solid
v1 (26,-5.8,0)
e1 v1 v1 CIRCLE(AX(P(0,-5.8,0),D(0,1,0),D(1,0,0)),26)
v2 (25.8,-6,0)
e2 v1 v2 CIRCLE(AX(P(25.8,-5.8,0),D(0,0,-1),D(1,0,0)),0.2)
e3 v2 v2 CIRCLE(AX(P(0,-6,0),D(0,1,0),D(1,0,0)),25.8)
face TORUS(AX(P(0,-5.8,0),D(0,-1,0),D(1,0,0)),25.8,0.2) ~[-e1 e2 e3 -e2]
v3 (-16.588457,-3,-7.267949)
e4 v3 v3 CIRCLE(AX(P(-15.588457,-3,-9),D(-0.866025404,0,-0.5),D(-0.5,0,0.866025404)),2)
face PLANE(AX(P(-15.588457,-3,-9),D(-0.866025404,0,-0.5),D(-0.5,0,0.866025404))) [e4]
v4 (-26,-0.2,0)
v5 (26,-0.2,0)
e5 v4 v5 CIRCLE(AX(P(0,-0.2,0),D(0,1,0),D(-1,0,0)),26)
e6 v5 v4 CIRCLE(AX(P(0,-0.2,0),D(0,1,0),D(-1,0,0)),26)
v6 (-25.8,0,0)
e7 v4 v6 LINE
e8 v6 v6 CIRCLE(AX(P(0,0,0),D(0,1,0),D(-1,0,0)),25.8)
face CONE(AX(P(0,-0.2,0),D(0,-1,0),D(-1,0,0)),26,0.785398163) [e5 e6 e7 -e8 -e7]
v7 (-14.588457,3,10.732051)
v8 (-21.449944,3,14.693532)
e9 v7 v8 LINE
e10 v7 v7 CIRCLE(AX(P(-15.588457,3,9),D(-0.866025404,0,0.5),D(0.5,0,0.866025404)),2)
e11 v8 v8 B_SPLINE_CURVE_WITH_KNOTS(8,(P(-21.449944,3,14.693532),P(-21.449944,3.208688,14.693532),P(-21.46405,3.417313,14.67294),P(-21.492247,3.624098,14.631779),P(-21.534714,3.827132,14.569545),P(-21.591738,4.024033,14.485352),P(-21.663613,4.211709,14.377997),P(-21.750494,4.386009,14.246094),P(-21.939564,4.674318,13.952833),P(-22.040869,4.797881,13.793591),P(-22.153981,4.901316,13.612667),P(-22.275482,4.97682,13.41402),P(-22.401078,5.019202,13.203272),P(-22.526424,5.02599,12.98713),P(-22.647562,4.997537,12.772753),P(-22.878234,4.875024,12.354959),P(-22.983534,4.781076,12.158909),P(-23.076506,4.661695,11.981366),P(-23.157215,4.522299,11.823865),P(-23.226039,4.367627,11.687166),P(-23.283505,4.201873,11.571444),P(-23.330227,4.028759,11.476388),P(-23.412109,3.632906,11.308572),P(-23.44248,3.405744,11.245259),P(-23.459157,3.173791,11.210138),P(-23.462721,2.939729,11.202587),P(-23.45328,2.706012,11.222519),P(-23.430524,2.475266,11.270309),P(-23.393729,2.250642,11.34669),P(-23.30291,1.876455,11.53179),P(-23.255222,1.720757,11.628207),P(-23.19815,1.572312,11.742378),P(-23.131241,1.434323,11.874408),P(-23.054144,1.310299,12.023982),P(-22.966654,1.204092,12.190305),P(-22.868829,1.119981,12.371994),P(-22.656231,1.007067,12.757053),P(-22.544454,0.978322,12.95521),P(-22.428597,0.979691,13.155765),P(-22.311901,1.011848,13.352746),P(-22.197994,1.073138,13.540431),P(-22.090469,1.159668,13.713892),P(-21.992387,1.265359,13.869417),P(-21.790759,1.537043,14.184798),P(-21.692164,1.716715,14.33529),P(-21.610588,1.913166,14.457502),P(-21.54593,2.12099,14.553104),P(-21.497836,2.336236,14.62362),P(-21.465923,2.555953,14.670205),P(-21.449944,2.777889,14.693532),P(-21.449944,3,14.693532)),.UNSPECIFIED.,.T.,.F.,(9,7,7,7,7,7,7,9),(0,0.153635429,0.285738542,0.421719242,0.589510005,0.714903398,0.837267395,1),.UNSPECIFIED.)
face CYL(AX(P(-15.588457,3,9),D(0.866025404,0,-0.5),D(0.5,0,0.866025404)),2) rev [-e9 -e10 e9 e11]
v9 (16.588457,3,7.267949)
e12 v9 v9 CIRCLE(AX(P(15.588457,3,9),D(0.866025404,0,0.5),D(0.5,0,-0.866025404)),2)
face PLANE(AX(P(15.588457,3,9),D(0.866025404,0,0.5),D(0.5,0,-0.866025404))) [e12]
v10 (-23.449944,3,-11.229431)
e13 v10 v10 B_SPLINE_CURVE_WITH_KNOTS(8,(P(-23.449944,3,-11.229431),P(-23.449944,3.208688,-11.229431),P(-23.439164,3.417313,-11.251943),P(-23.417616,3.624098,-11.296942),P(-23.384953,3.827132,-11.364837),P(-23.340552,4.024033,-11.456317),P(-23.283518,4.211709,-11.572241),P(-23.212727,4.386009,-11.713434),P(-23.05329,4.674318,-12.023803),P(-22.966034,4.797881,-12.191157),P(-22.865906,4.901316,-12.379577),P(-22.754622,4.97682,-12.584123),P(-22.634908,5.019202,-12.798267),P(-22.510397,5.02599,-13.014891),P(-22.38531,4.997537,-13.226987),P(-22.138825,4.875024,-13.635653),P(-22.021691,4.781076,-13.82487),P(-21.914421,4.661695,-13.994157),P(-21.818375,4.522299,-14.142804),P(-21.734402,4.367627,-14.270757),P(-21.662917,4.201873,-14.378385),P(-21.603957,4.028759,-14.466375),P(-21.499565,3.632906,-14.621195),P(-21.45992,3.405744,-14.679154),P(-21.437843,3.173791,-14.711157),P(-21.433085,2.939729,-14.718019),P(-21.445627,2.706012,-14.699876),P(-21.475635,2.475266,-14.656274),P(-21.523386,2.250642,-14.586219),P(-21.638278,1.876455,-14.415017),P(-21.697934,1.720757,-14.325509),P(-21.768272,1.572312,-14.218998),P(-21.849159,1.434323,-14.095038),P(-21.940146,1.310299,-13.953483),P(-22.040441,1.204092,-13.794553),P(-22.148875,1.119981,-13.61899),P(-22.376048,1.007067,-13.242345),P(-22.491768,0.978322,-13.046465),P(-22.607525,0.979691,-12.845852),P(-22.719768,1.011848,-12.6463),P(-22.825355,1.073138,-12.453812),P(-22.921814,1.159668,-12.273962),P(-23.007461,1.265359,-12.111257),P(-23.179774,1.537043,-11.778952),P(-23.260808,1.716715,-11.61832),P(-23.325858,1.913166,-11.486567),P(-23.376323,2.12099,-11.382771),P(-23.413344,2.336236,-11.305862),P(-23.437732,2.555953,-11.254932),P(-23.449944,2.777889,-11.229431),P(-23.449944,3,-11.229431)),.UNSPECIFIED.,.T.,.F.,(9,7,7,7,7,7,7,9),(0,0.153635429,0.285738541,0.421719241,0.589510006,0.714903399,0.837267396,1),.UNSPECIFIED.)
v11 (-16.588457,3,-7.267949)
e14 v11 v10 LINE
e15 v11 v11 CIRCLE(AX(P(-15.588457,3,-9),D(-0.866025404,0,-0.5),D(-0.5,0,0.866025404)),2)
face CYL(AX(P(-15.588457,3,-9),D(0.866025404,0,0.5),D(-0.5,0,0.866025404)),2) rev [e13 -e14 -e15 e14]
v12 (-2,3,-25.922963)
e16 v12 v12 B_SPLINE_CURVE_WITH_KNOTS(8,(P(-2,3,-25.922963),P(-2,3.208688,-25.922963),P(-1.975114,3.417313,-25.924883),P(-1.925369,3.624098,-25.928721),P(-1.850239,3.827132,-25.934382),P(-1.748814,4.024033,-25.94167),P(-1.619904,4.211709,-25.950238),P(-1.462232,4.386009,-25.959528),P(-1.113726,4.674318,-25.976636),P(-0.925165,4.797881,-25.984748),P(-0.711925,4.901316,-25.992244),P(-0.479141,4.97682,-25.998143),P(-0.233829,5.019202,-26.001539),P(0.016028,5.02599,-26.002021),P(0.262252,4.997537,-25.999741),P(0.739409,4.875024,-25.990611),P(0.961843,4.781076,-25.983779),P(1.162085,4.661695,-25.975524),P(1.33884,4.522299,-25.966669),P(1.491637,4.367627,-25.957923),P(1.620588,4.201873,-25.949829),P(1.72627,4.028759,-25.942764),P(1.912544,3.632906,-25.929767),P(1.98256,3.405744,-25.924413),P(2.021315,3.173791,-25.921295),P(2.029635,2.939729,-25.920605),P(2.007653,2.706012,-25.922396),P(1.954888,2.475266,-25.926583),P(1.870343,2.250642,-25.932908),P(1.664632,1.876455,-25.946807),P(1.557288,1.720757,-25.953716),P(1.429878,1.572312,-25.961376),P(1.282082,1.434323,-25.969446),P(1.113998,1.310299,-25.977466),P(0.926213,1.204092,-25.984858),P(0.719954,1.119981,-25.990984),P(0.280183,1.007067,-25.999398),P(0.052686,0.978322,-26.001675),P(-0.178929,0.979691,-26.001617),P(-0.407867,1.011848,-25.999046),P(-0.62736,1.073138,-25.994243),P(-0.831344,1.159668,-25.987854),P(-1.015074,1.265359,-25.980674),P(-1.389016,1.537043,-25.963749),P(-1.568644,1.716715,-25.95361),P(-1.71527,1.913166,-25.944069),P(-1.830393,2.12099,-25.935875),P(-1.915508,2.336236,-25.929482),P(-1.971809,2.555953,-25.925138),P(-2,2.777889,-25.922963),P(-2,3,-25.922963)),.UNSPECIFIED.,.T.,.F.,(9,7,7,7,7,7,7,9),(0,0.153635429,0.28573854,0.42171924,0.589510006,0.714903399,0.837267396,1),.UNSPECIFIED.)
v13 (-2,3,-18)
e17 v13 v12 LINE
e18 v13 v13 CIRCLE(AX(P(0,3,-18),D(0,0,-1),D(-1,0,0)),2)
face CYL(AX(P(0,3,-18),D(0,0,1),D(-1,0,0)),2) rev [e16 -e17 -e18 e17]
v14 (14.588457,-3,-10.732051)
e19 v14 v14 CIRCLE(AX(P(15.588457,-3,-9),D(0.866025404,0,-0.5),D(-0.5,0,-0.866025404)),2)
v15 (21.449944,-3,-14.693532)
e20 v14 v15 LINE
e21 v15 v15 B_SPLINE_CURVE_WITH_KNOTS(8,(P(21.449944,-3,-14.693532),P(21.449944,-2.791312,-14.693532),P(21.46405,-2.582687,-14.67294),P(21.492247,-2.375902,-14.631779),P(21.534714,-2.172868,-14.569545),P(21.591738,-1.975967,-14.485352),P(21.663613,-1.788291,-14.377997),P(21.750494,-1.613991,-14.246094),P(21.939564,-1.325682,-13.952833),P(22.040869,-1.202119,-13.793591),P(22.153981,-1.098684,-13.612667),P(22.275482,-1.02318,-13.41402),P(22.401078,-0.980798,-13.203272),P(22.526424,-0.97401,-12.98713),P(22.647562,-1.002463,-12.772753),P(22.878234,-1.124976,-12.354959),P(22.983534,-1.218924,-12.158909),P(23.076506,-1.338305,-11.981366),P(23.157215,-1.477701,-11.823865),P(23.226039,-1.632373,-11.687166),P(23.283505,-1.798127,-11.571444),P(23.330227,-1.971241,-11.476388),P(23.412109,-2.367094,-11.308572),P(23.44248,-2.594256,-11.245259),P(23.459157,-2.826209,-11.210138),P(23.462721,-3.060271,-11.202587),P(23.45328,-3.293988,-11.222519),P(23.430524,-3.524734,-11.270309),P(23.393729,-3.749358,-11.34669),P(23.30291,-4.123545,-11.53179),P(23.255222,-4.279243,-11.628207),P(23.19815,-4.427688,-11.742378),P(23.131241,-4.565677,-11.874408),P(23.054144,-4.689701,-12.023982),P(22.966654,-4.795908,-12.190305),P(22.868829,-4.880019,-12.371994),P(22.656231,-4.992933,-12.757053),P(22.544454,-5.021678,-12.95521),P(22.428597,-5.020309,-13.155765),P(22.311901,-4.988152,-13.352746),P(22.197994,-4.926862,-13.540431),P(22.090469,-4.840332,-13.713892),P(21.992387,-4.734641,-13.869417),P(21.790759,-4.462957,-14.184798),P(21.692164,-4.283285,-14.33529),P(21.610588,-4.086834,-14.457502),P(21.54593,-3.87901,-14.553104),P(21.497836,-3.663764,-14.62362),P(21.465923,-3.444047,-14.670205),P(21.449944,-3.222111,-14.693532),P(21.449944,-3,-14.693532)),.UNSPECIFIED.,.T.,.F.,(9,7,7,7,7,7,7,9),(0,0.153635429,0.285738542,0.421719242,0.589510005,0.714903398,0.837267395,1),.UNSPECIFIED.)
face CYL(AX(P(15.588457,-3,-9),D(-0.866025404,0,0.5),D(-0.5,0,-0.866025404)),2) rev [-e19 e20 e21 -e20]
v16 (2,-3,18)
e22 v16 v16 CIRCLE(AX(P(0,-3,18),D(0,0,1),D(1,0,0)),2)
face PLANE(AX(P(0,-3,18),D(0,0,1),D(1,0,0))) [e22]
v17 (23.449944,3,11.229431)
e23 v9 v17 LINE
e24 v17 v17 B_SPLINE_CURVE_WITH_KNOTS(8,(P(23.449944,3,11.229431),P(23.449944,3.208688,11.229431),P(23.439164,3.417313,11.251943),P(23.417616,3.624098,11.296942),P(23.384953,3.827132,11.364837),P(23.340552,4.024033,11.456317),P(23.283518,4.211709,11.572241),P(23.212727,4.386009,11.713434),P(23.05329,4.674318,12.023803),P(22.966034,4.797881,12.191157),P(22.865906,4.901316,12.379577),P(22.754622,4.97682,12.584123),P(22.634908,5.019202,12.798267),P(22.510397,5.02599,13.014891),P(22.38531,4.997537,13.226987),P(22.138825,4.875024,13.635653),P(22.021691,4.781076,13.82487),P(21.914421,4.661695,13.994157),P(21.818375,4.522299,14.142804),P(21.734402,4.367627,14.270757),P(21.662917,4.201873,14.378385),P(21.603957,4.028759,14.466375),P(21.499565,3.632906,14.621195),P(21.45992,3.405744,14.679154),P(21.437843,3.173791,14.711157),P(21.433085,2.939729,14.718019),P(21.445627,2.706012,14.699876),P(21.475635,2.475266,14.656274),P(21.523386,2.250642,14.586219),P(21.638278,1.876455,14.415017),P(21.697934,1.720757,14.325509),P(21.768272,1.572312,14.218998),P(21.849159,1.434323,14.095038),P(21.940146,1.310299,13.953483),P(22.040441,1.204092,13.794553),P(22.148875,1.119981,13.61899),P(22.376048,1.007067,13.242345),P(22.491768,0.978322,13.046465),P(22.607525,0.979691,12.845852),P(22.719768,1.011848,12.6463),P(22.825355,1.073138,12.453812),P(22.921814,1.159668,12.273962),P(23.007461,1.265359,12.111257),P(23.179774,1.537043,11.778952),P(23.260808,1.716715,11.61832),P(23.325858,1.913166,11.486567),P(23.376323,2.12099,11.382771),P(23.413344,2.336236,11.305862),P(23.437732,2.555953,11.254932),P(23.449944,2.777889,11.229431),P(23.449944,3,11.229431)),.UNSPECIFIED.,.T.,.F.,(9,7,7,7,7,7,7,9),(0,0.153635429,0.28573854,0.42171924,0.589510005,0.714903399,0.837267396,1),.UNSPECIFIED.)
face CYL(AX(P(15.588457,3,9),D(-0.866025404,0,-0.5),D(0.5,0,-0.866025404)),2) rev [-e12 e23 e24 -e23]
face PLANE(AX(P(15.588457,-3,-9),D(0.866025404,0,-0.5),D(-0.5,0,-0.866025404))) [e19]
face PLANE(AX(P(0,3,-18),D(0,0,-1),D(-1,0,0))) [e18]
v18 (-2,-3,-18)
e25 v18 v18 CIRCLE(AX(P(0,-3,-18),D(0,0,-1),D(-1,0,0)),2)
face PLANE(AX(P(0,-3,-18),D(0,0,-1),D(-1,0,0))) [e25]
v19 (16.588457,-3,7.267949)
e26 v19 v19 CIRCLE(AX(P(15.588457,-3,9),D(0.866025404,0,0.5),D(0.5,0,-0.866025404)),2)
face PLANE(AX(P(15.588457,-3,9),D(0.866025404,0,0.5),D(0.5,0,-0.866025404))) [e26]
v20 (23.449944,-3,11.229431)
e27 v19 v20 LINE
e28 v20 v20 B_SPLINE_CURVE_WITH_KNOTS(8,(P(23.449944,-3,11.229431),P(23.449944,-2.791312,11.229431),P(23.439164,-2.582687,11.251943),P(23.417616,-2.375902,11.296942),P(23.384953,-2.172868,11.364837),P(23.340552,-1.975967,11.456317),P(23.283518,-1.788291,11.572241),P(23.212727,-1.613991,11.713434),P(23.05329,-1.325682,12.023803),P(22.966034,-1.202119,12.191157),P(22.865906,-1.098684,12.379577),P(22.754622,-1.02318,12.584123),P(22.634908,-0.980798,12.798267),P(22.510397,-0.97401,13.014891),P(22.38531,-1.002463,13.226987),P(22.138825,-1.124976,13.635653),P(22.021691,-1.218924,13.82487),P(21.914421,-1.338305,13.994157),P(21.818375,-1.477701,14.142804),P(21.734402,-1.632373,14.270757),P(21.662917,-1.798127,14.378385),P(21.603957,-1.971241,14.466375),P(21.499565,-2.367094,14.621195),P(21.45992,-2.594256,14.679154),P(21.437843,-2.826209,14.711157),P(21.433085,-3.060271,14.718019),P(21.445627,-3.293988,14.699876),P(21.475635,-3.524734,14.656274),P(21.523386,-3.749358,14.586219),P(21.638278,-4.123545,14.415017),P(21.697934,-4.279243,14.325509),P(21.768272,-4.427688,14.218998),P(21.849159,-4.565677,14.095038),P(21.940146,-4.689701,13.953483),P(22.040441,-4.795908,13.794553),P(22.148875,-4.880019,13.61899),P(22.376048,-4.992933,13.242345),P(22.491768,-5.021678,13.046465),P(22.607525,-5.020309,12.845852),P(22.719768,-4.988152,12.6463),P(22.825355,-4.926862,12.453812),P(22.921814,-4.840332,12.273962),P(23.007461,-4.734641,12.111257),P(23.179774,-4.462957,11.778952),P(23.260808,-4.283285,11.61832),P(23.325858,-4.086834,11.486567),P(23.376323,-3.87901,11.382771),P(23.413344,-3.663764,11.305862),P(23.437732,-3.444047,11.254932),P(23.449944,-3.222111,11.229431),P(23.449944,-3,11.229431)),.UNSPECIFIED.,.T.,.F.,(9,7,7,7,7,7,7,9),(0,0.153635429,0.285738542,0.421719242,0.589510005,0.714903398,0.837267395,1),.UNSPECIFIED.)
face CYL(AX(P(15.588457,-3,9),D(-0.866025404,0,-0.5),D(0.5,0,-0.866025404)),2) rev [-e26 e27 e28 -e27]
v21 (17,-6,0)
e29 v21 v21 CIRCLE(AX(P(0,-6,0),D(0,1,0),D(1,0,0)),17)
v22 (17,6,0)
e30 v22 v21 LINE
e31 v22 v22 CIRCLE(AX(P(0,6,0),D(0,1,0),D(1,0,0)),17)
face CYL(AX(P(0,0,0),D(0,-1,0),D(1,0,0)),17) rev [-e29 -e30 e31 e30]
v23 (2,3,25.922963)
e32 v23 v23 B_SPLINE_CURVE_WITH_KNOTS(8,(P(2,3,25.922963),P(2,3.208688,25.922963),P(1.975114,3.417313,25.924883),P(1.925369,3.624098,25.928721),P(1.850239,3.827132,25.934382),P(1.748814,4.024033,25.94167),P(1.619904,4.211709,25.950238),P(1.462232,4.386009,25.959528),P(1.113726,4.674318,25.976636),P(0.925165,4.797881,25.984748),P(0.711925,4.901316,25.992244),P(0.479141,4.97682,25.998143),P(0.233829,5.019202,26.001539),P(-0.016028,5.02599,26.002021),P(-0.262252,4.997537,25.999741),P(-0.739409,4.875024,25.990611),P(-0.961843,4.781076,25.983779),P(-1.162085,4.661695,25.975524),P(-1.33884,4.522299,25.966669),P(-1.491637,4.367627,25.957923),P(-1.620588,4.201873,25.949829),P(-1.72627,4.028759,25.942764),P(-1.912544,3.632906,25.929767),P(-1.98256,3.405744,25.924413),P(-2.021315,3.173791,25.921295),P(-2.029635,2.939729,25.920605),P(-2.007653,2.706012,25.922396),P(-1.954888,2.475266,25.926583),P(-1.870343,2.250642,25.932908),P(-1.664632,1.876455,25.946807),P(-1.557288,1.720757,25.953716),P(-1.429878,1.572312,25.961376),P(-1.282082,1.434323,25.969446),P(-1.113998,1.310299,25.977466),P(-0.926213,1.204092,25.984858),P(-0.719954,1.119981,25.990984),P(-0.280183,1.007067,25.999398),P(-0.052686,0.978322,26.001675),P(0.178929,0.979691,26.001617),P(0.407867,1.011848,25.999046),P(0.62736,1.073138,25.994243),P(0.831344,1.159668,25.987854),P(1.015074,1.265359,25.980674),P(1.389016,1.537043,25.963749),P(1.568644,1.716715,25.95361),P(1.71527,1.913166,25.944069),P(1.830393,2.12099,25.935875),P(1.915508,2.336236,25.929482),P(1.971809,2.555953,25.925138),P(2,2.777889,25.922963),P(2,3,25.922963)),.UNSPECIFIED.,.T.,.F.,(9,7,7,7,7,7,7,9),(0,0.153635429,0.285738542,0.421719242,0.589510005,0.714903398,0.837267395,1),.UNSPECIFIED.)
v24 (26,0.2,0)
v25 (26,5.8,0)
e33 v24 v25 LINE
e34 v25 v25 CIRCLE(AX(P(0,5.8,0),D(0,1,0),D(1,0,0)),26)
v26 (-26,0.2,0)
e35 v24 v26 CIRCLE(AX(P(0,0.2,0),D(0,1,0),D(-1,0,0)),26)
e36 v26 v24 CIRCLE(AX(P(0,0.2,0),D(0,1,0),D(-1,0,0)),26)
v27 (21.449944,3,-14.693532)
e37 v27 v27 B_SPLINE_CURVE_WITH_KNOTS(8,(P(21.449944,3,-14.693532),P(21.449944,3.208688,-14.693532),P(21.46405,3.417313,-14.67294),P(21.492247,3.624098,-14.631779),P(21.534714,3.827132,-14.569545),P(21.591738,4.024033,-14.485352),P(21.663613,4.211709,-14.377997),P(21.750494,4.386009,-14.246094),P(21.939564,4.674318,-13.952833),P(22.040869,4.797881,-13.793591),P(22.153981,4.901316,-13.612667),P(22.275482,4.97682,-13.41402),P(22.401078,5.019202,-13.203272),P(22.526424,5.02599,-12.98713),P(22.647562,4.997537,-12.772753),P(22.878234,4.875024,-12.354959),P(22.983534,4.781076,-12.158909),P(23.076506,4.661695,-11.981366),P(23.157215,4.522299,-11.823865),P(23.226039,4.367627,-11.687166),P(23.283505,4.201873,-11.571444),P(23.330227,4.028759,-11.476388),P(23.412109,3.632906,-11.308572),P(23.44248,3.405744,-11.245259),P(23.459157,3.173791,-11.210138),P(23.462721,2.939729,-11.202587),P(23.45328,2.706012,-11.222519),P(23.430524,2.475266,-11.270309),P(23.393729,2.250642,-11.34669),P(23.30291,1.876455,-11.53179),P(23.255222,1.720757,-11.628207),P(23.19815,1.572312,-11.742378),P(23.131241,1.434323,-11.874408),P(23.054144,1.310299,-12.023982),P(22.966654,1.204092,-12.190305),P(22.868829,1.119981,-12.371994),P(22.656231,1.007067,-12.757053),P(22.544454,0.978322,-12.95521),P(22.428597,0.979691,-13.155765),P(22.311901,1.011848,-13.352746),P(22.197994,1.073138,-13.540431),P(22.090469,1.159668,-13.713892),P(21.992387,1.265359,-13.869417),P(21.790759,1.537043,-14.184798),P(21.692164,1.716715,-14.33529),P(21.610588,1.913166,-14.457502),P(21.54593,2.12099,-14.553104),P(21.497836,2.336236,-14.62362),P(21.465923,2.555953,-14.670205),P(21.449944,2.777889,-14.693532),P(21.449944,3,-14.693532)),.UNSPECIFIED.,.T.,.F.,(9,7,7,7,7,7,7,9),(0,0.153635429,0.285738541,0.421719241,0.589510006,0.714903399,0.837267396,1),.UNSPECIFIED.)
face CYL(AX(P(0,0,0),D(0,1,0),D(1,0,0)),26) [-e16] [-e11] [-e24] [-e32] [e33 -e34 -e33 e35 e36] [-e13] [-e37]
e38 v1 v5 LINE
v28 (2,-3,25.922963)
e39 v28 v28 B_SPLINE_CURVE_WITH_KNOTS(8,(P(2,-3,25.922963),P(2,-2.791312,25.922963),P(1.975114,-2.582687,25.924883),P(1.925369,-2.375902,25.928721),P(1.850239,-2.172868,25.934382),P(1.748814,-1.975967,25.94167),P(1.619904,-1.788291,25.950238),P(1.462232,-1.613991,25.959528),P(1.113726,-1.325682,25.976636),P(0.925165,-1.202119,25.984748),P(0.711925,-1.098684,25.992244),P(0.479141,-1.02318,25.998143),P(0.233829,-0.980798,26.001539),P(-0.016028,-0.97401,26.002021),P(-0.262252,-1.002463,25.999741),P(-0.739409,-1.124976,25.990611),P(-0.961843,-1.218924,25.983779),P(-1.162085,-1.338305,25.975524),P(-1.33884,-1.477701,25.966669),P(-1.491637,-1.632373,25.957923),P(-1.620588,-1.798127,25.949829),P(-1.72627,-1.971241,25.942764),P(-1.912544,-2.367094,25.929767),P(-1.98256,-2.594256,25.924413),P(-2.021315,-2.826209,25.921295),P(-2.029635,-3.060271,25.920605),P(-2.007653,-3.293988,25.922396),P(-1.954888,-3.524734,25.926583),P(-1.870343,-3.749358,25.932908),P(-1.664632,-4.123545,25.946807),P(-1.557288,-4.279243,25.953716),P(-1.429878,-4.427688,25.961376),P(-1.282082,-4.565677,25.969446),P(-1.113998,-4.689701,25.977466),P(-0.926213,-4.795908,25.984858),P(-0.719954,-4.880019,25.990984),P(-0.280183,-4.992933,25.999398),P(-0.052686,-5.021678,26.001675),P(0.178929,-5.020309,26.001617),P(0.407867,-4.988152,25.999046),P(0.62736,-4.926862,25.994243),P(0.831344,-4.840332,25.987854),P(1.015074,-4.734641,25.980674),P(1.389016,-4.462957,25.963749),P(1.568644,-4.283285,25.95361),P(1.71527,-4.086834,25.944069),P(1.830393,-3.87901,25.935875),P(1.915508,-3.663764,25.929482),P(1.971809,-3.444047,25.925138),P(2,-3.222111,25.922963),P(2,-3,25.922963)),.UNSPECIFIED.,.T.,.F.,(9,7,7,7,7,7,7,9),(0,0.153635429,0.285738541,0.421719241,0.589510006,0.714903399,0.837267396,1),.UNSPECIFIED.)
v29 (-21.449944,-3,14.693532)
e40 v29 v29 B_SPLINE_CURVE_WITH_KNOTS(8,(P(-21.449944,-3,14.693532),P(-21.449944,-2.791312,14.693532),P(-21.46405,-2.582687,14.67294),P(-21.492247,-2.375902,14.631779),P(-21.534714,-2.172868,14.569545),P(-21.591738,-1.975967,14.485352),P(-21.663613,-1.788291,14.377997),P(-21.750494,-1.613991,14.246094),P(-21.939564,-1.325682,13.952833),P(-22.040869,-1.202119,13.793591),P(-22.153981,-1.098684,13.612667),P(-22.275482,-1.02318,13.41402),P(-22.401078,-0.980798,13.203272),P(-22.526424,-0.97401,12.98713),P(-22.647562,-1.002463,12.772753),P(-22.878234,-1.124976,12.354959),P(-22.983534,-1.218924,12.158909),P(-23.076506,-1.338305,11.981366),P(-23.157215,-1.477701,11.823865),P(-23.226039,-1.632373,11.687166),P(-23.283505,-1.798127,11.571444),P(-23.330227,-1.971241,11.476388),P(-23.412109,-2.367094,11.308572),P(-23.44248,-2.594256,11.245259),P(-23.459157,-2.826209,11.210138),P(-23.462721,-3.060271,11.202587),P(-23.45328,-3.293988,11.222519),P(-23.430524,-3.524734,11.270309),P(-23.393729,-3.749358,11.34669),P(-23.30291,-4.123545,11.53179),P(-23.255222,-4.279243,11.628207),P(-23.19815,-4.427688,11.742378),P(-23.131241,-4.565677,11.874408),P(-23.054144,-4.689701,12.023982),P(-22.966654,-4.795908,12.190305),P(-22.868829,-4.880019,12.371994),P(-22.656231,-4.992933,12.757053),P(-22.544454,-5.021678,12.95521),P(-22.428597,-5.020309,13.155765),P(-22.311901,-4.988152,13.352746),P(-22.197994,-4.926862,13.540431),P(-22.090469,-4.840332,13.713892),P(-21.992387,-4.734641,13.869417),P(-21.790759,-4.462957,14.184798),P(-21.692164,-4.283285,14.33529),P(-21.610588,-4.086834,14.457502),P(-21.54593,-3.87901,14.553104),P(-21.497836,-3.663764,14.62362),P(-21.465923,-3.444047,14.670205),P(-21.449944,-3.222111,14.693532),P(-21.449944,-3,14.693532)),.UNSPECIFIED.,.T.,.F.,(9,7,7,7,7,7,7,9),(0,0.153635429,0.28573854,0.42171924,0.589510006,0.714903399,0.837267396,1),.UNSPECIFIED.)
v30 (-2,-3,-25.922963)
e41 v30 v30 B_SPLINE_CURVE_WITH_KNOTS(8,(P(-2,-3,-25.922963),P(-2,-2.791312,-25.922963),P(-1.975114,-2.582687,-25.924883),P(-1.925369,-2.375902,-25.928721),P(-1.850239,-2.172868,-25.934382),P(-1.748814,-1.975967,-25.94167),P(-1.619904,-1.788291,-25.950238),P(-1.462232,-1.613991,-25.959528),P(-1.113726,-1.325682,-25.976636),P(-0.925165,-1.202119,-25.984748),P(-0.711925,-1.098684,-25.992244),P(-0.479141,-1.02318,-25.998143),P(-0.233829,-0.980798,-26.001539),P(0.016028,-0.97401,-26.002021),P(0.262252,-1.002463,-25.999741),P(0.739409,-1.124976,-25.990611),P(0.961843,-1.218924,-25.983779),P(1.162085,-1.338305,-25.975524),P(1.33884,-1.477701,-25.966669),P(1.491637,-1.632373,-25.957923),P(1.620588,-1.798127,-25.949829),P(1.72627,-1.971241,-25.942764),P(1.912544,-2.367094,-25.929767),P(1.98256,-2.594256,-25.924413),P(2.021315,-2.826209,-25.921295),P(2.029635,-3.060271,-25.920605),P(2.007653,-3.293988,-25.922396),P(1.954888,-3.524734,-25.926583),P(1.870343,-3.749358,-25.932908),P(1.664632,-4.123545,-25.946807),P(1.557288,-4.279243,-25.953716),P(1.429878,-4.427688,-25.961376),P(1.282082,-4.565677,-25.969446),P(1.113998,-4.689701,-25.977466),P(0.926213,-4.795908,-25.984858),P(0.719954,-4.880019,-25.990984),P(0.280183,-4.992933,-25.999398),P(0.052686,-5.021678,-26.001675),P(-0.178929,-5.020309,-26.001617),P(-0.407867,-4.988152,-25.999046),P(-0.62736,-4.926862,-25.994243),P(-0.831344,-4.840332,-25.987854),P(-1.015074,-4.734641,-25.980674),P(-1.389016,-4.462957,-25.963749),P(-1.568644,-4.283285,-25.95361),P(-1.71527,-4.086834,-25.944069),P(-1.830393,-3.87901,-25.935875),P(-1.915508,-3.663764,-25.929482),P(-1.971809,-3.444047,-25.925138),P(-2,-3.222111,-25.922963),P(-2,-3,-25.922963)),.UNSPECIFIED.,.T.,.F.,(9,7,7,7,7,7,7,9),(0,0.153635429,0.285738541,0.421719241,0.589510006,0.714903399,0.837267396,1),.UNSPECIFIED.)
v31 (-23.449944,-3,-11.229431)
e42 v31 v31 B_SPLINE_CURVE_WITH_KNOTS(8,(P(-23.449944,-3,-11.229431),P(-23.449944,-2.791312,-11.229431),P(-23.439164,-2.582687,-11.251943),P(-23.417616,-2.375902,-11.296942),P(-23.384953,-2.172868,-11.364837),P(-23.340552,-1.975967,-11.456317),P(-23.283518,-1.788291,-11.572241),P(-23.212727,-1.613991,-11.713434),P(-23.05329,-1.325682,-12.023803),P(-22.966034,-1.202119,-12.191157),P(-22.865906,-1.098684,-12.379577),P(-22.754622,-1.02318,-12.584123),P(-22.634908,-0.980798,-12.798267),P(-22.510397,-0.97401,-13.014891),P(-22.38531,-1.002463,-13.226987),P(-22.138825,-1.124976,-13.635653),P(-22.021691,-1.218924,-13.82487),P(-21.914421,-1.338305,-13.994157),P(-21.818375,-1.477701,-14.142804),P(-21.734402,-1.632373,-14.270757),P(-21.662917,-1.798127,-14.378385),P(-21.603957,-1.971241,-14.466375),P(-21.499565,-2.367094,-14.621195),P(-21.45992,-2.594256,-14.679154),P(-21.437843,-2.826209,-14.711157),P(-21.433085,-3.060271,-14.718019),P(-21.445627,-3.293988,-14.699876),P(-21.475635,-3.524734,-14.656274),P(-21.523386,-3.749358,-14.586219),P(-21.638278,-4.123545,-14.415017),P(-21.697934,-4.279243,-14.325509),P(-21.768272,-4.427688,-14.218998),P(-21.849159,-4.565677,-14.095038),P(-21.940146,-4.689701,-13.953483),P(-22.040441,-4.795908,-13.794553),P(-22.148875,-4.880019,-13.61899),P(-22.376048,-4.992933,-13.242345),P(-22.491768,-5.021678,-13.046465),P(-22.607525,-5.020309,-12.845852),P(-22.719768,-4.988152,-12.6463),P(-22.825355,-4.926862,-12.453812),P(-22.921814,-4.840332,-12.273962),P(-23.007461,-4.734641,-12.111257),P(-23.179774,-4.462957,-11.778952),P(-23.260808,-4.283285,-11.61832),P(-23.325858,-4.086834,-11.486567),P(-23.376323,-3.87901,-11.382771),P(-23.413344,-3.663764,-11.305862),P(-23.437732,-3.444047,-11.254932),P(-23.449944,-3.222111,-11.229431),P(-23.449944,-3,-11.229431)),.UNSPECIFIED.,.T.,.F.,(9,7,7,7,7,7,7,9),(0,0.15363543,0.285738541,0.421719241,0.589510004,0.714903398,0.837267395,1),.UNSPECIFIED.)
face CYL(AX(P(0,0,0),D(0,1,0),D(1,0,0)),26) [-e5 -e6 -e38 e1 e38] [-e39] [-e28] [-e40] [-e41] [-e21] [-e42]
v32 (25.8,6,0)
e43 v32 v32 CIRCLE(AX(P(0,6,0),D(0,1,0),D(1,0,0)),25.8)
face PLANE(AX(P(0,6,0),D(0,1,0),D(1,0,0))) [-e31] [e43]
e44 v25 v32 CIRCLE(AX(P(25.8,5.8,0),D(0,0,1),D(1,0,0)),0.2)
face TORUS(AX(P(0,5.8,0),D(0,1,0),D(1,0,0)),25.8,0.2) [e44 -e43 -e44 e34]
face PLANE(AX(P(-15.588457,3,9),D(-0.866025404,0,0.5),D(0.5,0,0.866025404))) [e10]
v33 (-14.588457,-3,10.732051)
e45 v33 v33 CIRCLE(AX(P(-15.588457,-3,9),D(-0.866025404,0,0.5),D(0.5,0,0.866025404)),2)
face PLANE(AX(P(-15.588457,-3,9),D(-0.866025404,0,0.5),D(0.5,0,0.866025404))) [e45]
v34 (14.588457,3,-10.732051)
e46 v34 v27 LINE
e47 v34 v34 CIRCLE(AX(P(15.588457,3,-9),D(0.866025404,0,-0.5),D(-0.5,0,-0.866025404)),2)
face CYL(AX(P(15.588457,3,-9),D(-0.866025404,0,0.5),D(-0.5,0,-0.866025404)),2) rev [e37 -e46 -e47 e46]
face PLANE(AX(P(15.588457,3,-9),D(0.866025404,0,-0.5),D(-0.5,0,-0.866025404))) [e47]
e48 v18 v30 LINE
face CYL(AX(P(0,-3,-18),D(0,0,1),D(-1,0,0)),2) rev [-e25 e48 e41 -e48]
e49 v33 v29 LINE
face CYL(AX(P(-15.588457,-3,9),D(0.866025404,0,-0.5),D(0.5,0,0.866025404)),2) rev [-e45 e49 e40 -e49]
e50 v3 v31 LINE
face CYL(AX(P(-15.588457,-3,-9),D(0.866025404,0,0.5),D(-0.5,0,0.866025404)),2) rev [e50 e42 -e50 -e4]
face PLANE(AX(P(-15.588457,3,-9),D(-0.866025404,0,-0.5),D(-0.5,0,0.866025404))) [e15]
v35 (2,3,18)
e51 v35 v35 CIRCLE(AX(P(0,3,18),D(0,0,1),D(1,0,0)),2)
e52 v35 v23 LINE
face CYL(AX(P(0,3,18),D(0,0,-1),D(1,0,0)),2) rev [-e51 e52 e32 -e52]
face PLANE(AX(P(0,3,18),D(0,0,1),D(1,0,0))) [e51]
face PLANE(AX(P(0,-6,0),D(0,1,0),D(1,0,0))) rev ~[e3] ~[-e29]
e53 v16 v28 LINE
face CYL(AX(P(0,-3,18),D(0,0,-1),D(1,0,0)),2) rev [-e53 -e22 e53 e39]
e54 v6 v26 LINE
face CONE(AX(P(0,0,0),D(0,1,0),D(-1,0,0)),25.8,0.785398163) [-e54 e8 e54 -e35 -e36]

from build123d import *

# Parameters (mm, degrees)
SKETCH1_R                 = 26
SKETCH1_R_2               = 17
BOSS_EXTRUDE1_DEPTH       = 6
FILLET1_R                 = 0.2
CUT_EXTRUDE1_START        = 18
SKETCH4_R                 = 2
CUT_EXTRUDE1_DEPTH        = 12
CIRPATTERN1_COUNT         = 6
LPATTERN1_START           = 18
LPATTERN1_COPY_1_SKETCH_R = 2
LPATTERN1_COPY_1_DEPTH    = 12
LPATTERN1_COPY_2_SKETCH_R = 2
LPATTERN1_COPY_2_DEPTH    = 12
LPATTERN1_COPY_3_SKETCH_R = 2
LPATTERN1_COPY_3_DEPTH    = 12
LPATTERN1_COPY_4_SKETCH_R = 2
LPATTERN1_COPY_4_DEPTH    = 12
LPATTERN1_COPY_5_SKETCH_R = 2
LPATTERN1_COPY_5_DEPTH    = 12
LPATTERN1_COPY_6_SKETCH_R = 2
LPATTERN1_COPY_6_DEPTH    = 12


with BuildPart() as part:
    # Sketch1 → Boss-Extrude1 (new, symmetric)
    with BuildSketch(Plane(origin=(0, 0, 0), x_dir=(1, 0, 0), z_dir=(0, 1, 0))):
        Circle(SKETCH1_R)
        Circle(SKETCH1_R_2, mode=Mode.SUBTRACT)
    extrude(amount=BOSS_EXTRUDE1_DEPTH, both=True)

    # Sketch3 → Cut-Revolve1 (revolve, cut)
    with BuildSketch(Plane.XY):
        Polygon((-26, 0.2), (-26, -0.2), (-25.8, 0), align=None)
    revolve(axis=Axis((0, -6, 0), (0, 1, 0)), mode=Mode.SUBTRACT)

    # Fillet1
    fillet1_edges = [part.edges().sort_by_distance(p)[0] for p in [
        (-26, -6, 0),
        (-26, 6, 0),
    ]]
    fillet(fillet1_edges, radius=FILLET1_R)

    # Sketch4 → Cut-Extrude1 (cut)
    with BuildSketch(Plane.XY.offset(CUT_EXTRUDE1_START)):
        with Locations((0, 3)):
            Circle(SKETCH4_R)
    cut_extrude1 = extrude(amount=CUT_EXTRUDE1_DEPTH, mode=Mode.SUBTRACT)

    # CirPattern1: Cut-Extrude1 ×6 about axis
    cirpattern1_axis = Axis((0, 6, 0), (0, -1, 0))
    for i in range(1, CIRPATTERN1_COUNT):
        add(cut_extrude1.rotate(cirpattern1_axis, i * 360 / CIRPATTERN1_COUNT), mode=Mode.SUBTRACT)

    # LPattern1 copy 1 sketch → LPattern1 copy 1 (cut)
    with BuildSketch(Plane(origin=(0, -6, 0), x_dir=(0.5000000000000001, 0, 0.8660254037844386), z_dir=(-0.8660254037844386, 0, 0.5000000000000001)).offset(LPATTERN1_START)):
        with Locations((0, 3)):
            Circle(LPATTERN1_COPY_1_SKETCH_R)
    extrude(amount=LPATTERN1_COPY_1_DEPTH, mode=Mode.SUBTRACT)

    # LPattern1 copy 2 sketch → LPattern1 copy 2 (cut)
    with BuildSketch(Plane(origin=(0, -6, 0), x_dir=(-0.4999999999999998, 0, 0.8660254037844387), z_dir=(-0.8660254037844387, 0, -0.4999999999999998)).offset(LPATTERN1_START)):
        with Locations((0, 3)):
            Circle(LPATTERN1_COPY_2_SKETCH_R)
    extrude(amount=LPATTERN1_COPY_2_DEPTH, mode=Mode.SUBTRACT)

    # LPattern1 copy 3 sketch → LPattern1 copy 3 (cut)
    with BuildSketch(Plane(origin=(0, -6, 0), x_dir=(-1, 0, 0), z_dir=(0, 0, -1)).offset(LPATTERN1_START)):
        with Locations((0, 3)):
            Circle(LPATTERN1_COPY_3_SKETCH_R)
    extrude(amount=LPATTERN1_COPY_3_DEPTH, mode=Mode.SUBTRACT)

    # LPattern1 copy 4 sketch → LPattern1 copy 4 (cut)
    with BuildSketch(Plane(origin=(0, -6, 0), x_dir=(-0.5000000000000004, 0, -0.8660254037844384), z_dir=(0.8660254037844384, 0, -0.5000000000000004)).offset(LPATTERN1_START)):
        with Locations((0, 3)):
            Circle(LPATTERN1_COPY_4_SKETCH_R)
    extrude(amount=LPATTERN1_COPY_4_DEPTH, mode=Mode.SUBTRACT)

    # LPattern1 copy 5 sketch → LPattern1 copy 5 (cut)
    with BuildSketch(Plane(origin=(0, -6, 0), x_dir=(0.5000000000000001, 0, -0.8660254037844386), z_dir=(0.8660254037844386, 0, 0.5000000000000001)).offset(LPATTERN1_START)):
        with Locations((0, 3)):
            Circle(LPATTERN1_COPY_5_SKETCH_R)
    extrude(amount=LPATTERN1_COPY_5_DEPTH, mode=Mode.SUBTRACT)

    # LPattern1 copy 6 sketch → LPattern1 copy 6 (cut)
    with BuildSketch(Plane(origin=(0, -6, 0), x_dir=(1, 0, 0), z_dir=(0, 0, 1)).offset(LPATTERN1_START)):
        with Locations((0, 3)):
            Circle(LPATTERN1_COPY_6_SKETCH_R)
    extrude(amount=LPATTERN1_COPY_6_DEPTH, mode=Mode.SUBTRACT)


solid = part.part
